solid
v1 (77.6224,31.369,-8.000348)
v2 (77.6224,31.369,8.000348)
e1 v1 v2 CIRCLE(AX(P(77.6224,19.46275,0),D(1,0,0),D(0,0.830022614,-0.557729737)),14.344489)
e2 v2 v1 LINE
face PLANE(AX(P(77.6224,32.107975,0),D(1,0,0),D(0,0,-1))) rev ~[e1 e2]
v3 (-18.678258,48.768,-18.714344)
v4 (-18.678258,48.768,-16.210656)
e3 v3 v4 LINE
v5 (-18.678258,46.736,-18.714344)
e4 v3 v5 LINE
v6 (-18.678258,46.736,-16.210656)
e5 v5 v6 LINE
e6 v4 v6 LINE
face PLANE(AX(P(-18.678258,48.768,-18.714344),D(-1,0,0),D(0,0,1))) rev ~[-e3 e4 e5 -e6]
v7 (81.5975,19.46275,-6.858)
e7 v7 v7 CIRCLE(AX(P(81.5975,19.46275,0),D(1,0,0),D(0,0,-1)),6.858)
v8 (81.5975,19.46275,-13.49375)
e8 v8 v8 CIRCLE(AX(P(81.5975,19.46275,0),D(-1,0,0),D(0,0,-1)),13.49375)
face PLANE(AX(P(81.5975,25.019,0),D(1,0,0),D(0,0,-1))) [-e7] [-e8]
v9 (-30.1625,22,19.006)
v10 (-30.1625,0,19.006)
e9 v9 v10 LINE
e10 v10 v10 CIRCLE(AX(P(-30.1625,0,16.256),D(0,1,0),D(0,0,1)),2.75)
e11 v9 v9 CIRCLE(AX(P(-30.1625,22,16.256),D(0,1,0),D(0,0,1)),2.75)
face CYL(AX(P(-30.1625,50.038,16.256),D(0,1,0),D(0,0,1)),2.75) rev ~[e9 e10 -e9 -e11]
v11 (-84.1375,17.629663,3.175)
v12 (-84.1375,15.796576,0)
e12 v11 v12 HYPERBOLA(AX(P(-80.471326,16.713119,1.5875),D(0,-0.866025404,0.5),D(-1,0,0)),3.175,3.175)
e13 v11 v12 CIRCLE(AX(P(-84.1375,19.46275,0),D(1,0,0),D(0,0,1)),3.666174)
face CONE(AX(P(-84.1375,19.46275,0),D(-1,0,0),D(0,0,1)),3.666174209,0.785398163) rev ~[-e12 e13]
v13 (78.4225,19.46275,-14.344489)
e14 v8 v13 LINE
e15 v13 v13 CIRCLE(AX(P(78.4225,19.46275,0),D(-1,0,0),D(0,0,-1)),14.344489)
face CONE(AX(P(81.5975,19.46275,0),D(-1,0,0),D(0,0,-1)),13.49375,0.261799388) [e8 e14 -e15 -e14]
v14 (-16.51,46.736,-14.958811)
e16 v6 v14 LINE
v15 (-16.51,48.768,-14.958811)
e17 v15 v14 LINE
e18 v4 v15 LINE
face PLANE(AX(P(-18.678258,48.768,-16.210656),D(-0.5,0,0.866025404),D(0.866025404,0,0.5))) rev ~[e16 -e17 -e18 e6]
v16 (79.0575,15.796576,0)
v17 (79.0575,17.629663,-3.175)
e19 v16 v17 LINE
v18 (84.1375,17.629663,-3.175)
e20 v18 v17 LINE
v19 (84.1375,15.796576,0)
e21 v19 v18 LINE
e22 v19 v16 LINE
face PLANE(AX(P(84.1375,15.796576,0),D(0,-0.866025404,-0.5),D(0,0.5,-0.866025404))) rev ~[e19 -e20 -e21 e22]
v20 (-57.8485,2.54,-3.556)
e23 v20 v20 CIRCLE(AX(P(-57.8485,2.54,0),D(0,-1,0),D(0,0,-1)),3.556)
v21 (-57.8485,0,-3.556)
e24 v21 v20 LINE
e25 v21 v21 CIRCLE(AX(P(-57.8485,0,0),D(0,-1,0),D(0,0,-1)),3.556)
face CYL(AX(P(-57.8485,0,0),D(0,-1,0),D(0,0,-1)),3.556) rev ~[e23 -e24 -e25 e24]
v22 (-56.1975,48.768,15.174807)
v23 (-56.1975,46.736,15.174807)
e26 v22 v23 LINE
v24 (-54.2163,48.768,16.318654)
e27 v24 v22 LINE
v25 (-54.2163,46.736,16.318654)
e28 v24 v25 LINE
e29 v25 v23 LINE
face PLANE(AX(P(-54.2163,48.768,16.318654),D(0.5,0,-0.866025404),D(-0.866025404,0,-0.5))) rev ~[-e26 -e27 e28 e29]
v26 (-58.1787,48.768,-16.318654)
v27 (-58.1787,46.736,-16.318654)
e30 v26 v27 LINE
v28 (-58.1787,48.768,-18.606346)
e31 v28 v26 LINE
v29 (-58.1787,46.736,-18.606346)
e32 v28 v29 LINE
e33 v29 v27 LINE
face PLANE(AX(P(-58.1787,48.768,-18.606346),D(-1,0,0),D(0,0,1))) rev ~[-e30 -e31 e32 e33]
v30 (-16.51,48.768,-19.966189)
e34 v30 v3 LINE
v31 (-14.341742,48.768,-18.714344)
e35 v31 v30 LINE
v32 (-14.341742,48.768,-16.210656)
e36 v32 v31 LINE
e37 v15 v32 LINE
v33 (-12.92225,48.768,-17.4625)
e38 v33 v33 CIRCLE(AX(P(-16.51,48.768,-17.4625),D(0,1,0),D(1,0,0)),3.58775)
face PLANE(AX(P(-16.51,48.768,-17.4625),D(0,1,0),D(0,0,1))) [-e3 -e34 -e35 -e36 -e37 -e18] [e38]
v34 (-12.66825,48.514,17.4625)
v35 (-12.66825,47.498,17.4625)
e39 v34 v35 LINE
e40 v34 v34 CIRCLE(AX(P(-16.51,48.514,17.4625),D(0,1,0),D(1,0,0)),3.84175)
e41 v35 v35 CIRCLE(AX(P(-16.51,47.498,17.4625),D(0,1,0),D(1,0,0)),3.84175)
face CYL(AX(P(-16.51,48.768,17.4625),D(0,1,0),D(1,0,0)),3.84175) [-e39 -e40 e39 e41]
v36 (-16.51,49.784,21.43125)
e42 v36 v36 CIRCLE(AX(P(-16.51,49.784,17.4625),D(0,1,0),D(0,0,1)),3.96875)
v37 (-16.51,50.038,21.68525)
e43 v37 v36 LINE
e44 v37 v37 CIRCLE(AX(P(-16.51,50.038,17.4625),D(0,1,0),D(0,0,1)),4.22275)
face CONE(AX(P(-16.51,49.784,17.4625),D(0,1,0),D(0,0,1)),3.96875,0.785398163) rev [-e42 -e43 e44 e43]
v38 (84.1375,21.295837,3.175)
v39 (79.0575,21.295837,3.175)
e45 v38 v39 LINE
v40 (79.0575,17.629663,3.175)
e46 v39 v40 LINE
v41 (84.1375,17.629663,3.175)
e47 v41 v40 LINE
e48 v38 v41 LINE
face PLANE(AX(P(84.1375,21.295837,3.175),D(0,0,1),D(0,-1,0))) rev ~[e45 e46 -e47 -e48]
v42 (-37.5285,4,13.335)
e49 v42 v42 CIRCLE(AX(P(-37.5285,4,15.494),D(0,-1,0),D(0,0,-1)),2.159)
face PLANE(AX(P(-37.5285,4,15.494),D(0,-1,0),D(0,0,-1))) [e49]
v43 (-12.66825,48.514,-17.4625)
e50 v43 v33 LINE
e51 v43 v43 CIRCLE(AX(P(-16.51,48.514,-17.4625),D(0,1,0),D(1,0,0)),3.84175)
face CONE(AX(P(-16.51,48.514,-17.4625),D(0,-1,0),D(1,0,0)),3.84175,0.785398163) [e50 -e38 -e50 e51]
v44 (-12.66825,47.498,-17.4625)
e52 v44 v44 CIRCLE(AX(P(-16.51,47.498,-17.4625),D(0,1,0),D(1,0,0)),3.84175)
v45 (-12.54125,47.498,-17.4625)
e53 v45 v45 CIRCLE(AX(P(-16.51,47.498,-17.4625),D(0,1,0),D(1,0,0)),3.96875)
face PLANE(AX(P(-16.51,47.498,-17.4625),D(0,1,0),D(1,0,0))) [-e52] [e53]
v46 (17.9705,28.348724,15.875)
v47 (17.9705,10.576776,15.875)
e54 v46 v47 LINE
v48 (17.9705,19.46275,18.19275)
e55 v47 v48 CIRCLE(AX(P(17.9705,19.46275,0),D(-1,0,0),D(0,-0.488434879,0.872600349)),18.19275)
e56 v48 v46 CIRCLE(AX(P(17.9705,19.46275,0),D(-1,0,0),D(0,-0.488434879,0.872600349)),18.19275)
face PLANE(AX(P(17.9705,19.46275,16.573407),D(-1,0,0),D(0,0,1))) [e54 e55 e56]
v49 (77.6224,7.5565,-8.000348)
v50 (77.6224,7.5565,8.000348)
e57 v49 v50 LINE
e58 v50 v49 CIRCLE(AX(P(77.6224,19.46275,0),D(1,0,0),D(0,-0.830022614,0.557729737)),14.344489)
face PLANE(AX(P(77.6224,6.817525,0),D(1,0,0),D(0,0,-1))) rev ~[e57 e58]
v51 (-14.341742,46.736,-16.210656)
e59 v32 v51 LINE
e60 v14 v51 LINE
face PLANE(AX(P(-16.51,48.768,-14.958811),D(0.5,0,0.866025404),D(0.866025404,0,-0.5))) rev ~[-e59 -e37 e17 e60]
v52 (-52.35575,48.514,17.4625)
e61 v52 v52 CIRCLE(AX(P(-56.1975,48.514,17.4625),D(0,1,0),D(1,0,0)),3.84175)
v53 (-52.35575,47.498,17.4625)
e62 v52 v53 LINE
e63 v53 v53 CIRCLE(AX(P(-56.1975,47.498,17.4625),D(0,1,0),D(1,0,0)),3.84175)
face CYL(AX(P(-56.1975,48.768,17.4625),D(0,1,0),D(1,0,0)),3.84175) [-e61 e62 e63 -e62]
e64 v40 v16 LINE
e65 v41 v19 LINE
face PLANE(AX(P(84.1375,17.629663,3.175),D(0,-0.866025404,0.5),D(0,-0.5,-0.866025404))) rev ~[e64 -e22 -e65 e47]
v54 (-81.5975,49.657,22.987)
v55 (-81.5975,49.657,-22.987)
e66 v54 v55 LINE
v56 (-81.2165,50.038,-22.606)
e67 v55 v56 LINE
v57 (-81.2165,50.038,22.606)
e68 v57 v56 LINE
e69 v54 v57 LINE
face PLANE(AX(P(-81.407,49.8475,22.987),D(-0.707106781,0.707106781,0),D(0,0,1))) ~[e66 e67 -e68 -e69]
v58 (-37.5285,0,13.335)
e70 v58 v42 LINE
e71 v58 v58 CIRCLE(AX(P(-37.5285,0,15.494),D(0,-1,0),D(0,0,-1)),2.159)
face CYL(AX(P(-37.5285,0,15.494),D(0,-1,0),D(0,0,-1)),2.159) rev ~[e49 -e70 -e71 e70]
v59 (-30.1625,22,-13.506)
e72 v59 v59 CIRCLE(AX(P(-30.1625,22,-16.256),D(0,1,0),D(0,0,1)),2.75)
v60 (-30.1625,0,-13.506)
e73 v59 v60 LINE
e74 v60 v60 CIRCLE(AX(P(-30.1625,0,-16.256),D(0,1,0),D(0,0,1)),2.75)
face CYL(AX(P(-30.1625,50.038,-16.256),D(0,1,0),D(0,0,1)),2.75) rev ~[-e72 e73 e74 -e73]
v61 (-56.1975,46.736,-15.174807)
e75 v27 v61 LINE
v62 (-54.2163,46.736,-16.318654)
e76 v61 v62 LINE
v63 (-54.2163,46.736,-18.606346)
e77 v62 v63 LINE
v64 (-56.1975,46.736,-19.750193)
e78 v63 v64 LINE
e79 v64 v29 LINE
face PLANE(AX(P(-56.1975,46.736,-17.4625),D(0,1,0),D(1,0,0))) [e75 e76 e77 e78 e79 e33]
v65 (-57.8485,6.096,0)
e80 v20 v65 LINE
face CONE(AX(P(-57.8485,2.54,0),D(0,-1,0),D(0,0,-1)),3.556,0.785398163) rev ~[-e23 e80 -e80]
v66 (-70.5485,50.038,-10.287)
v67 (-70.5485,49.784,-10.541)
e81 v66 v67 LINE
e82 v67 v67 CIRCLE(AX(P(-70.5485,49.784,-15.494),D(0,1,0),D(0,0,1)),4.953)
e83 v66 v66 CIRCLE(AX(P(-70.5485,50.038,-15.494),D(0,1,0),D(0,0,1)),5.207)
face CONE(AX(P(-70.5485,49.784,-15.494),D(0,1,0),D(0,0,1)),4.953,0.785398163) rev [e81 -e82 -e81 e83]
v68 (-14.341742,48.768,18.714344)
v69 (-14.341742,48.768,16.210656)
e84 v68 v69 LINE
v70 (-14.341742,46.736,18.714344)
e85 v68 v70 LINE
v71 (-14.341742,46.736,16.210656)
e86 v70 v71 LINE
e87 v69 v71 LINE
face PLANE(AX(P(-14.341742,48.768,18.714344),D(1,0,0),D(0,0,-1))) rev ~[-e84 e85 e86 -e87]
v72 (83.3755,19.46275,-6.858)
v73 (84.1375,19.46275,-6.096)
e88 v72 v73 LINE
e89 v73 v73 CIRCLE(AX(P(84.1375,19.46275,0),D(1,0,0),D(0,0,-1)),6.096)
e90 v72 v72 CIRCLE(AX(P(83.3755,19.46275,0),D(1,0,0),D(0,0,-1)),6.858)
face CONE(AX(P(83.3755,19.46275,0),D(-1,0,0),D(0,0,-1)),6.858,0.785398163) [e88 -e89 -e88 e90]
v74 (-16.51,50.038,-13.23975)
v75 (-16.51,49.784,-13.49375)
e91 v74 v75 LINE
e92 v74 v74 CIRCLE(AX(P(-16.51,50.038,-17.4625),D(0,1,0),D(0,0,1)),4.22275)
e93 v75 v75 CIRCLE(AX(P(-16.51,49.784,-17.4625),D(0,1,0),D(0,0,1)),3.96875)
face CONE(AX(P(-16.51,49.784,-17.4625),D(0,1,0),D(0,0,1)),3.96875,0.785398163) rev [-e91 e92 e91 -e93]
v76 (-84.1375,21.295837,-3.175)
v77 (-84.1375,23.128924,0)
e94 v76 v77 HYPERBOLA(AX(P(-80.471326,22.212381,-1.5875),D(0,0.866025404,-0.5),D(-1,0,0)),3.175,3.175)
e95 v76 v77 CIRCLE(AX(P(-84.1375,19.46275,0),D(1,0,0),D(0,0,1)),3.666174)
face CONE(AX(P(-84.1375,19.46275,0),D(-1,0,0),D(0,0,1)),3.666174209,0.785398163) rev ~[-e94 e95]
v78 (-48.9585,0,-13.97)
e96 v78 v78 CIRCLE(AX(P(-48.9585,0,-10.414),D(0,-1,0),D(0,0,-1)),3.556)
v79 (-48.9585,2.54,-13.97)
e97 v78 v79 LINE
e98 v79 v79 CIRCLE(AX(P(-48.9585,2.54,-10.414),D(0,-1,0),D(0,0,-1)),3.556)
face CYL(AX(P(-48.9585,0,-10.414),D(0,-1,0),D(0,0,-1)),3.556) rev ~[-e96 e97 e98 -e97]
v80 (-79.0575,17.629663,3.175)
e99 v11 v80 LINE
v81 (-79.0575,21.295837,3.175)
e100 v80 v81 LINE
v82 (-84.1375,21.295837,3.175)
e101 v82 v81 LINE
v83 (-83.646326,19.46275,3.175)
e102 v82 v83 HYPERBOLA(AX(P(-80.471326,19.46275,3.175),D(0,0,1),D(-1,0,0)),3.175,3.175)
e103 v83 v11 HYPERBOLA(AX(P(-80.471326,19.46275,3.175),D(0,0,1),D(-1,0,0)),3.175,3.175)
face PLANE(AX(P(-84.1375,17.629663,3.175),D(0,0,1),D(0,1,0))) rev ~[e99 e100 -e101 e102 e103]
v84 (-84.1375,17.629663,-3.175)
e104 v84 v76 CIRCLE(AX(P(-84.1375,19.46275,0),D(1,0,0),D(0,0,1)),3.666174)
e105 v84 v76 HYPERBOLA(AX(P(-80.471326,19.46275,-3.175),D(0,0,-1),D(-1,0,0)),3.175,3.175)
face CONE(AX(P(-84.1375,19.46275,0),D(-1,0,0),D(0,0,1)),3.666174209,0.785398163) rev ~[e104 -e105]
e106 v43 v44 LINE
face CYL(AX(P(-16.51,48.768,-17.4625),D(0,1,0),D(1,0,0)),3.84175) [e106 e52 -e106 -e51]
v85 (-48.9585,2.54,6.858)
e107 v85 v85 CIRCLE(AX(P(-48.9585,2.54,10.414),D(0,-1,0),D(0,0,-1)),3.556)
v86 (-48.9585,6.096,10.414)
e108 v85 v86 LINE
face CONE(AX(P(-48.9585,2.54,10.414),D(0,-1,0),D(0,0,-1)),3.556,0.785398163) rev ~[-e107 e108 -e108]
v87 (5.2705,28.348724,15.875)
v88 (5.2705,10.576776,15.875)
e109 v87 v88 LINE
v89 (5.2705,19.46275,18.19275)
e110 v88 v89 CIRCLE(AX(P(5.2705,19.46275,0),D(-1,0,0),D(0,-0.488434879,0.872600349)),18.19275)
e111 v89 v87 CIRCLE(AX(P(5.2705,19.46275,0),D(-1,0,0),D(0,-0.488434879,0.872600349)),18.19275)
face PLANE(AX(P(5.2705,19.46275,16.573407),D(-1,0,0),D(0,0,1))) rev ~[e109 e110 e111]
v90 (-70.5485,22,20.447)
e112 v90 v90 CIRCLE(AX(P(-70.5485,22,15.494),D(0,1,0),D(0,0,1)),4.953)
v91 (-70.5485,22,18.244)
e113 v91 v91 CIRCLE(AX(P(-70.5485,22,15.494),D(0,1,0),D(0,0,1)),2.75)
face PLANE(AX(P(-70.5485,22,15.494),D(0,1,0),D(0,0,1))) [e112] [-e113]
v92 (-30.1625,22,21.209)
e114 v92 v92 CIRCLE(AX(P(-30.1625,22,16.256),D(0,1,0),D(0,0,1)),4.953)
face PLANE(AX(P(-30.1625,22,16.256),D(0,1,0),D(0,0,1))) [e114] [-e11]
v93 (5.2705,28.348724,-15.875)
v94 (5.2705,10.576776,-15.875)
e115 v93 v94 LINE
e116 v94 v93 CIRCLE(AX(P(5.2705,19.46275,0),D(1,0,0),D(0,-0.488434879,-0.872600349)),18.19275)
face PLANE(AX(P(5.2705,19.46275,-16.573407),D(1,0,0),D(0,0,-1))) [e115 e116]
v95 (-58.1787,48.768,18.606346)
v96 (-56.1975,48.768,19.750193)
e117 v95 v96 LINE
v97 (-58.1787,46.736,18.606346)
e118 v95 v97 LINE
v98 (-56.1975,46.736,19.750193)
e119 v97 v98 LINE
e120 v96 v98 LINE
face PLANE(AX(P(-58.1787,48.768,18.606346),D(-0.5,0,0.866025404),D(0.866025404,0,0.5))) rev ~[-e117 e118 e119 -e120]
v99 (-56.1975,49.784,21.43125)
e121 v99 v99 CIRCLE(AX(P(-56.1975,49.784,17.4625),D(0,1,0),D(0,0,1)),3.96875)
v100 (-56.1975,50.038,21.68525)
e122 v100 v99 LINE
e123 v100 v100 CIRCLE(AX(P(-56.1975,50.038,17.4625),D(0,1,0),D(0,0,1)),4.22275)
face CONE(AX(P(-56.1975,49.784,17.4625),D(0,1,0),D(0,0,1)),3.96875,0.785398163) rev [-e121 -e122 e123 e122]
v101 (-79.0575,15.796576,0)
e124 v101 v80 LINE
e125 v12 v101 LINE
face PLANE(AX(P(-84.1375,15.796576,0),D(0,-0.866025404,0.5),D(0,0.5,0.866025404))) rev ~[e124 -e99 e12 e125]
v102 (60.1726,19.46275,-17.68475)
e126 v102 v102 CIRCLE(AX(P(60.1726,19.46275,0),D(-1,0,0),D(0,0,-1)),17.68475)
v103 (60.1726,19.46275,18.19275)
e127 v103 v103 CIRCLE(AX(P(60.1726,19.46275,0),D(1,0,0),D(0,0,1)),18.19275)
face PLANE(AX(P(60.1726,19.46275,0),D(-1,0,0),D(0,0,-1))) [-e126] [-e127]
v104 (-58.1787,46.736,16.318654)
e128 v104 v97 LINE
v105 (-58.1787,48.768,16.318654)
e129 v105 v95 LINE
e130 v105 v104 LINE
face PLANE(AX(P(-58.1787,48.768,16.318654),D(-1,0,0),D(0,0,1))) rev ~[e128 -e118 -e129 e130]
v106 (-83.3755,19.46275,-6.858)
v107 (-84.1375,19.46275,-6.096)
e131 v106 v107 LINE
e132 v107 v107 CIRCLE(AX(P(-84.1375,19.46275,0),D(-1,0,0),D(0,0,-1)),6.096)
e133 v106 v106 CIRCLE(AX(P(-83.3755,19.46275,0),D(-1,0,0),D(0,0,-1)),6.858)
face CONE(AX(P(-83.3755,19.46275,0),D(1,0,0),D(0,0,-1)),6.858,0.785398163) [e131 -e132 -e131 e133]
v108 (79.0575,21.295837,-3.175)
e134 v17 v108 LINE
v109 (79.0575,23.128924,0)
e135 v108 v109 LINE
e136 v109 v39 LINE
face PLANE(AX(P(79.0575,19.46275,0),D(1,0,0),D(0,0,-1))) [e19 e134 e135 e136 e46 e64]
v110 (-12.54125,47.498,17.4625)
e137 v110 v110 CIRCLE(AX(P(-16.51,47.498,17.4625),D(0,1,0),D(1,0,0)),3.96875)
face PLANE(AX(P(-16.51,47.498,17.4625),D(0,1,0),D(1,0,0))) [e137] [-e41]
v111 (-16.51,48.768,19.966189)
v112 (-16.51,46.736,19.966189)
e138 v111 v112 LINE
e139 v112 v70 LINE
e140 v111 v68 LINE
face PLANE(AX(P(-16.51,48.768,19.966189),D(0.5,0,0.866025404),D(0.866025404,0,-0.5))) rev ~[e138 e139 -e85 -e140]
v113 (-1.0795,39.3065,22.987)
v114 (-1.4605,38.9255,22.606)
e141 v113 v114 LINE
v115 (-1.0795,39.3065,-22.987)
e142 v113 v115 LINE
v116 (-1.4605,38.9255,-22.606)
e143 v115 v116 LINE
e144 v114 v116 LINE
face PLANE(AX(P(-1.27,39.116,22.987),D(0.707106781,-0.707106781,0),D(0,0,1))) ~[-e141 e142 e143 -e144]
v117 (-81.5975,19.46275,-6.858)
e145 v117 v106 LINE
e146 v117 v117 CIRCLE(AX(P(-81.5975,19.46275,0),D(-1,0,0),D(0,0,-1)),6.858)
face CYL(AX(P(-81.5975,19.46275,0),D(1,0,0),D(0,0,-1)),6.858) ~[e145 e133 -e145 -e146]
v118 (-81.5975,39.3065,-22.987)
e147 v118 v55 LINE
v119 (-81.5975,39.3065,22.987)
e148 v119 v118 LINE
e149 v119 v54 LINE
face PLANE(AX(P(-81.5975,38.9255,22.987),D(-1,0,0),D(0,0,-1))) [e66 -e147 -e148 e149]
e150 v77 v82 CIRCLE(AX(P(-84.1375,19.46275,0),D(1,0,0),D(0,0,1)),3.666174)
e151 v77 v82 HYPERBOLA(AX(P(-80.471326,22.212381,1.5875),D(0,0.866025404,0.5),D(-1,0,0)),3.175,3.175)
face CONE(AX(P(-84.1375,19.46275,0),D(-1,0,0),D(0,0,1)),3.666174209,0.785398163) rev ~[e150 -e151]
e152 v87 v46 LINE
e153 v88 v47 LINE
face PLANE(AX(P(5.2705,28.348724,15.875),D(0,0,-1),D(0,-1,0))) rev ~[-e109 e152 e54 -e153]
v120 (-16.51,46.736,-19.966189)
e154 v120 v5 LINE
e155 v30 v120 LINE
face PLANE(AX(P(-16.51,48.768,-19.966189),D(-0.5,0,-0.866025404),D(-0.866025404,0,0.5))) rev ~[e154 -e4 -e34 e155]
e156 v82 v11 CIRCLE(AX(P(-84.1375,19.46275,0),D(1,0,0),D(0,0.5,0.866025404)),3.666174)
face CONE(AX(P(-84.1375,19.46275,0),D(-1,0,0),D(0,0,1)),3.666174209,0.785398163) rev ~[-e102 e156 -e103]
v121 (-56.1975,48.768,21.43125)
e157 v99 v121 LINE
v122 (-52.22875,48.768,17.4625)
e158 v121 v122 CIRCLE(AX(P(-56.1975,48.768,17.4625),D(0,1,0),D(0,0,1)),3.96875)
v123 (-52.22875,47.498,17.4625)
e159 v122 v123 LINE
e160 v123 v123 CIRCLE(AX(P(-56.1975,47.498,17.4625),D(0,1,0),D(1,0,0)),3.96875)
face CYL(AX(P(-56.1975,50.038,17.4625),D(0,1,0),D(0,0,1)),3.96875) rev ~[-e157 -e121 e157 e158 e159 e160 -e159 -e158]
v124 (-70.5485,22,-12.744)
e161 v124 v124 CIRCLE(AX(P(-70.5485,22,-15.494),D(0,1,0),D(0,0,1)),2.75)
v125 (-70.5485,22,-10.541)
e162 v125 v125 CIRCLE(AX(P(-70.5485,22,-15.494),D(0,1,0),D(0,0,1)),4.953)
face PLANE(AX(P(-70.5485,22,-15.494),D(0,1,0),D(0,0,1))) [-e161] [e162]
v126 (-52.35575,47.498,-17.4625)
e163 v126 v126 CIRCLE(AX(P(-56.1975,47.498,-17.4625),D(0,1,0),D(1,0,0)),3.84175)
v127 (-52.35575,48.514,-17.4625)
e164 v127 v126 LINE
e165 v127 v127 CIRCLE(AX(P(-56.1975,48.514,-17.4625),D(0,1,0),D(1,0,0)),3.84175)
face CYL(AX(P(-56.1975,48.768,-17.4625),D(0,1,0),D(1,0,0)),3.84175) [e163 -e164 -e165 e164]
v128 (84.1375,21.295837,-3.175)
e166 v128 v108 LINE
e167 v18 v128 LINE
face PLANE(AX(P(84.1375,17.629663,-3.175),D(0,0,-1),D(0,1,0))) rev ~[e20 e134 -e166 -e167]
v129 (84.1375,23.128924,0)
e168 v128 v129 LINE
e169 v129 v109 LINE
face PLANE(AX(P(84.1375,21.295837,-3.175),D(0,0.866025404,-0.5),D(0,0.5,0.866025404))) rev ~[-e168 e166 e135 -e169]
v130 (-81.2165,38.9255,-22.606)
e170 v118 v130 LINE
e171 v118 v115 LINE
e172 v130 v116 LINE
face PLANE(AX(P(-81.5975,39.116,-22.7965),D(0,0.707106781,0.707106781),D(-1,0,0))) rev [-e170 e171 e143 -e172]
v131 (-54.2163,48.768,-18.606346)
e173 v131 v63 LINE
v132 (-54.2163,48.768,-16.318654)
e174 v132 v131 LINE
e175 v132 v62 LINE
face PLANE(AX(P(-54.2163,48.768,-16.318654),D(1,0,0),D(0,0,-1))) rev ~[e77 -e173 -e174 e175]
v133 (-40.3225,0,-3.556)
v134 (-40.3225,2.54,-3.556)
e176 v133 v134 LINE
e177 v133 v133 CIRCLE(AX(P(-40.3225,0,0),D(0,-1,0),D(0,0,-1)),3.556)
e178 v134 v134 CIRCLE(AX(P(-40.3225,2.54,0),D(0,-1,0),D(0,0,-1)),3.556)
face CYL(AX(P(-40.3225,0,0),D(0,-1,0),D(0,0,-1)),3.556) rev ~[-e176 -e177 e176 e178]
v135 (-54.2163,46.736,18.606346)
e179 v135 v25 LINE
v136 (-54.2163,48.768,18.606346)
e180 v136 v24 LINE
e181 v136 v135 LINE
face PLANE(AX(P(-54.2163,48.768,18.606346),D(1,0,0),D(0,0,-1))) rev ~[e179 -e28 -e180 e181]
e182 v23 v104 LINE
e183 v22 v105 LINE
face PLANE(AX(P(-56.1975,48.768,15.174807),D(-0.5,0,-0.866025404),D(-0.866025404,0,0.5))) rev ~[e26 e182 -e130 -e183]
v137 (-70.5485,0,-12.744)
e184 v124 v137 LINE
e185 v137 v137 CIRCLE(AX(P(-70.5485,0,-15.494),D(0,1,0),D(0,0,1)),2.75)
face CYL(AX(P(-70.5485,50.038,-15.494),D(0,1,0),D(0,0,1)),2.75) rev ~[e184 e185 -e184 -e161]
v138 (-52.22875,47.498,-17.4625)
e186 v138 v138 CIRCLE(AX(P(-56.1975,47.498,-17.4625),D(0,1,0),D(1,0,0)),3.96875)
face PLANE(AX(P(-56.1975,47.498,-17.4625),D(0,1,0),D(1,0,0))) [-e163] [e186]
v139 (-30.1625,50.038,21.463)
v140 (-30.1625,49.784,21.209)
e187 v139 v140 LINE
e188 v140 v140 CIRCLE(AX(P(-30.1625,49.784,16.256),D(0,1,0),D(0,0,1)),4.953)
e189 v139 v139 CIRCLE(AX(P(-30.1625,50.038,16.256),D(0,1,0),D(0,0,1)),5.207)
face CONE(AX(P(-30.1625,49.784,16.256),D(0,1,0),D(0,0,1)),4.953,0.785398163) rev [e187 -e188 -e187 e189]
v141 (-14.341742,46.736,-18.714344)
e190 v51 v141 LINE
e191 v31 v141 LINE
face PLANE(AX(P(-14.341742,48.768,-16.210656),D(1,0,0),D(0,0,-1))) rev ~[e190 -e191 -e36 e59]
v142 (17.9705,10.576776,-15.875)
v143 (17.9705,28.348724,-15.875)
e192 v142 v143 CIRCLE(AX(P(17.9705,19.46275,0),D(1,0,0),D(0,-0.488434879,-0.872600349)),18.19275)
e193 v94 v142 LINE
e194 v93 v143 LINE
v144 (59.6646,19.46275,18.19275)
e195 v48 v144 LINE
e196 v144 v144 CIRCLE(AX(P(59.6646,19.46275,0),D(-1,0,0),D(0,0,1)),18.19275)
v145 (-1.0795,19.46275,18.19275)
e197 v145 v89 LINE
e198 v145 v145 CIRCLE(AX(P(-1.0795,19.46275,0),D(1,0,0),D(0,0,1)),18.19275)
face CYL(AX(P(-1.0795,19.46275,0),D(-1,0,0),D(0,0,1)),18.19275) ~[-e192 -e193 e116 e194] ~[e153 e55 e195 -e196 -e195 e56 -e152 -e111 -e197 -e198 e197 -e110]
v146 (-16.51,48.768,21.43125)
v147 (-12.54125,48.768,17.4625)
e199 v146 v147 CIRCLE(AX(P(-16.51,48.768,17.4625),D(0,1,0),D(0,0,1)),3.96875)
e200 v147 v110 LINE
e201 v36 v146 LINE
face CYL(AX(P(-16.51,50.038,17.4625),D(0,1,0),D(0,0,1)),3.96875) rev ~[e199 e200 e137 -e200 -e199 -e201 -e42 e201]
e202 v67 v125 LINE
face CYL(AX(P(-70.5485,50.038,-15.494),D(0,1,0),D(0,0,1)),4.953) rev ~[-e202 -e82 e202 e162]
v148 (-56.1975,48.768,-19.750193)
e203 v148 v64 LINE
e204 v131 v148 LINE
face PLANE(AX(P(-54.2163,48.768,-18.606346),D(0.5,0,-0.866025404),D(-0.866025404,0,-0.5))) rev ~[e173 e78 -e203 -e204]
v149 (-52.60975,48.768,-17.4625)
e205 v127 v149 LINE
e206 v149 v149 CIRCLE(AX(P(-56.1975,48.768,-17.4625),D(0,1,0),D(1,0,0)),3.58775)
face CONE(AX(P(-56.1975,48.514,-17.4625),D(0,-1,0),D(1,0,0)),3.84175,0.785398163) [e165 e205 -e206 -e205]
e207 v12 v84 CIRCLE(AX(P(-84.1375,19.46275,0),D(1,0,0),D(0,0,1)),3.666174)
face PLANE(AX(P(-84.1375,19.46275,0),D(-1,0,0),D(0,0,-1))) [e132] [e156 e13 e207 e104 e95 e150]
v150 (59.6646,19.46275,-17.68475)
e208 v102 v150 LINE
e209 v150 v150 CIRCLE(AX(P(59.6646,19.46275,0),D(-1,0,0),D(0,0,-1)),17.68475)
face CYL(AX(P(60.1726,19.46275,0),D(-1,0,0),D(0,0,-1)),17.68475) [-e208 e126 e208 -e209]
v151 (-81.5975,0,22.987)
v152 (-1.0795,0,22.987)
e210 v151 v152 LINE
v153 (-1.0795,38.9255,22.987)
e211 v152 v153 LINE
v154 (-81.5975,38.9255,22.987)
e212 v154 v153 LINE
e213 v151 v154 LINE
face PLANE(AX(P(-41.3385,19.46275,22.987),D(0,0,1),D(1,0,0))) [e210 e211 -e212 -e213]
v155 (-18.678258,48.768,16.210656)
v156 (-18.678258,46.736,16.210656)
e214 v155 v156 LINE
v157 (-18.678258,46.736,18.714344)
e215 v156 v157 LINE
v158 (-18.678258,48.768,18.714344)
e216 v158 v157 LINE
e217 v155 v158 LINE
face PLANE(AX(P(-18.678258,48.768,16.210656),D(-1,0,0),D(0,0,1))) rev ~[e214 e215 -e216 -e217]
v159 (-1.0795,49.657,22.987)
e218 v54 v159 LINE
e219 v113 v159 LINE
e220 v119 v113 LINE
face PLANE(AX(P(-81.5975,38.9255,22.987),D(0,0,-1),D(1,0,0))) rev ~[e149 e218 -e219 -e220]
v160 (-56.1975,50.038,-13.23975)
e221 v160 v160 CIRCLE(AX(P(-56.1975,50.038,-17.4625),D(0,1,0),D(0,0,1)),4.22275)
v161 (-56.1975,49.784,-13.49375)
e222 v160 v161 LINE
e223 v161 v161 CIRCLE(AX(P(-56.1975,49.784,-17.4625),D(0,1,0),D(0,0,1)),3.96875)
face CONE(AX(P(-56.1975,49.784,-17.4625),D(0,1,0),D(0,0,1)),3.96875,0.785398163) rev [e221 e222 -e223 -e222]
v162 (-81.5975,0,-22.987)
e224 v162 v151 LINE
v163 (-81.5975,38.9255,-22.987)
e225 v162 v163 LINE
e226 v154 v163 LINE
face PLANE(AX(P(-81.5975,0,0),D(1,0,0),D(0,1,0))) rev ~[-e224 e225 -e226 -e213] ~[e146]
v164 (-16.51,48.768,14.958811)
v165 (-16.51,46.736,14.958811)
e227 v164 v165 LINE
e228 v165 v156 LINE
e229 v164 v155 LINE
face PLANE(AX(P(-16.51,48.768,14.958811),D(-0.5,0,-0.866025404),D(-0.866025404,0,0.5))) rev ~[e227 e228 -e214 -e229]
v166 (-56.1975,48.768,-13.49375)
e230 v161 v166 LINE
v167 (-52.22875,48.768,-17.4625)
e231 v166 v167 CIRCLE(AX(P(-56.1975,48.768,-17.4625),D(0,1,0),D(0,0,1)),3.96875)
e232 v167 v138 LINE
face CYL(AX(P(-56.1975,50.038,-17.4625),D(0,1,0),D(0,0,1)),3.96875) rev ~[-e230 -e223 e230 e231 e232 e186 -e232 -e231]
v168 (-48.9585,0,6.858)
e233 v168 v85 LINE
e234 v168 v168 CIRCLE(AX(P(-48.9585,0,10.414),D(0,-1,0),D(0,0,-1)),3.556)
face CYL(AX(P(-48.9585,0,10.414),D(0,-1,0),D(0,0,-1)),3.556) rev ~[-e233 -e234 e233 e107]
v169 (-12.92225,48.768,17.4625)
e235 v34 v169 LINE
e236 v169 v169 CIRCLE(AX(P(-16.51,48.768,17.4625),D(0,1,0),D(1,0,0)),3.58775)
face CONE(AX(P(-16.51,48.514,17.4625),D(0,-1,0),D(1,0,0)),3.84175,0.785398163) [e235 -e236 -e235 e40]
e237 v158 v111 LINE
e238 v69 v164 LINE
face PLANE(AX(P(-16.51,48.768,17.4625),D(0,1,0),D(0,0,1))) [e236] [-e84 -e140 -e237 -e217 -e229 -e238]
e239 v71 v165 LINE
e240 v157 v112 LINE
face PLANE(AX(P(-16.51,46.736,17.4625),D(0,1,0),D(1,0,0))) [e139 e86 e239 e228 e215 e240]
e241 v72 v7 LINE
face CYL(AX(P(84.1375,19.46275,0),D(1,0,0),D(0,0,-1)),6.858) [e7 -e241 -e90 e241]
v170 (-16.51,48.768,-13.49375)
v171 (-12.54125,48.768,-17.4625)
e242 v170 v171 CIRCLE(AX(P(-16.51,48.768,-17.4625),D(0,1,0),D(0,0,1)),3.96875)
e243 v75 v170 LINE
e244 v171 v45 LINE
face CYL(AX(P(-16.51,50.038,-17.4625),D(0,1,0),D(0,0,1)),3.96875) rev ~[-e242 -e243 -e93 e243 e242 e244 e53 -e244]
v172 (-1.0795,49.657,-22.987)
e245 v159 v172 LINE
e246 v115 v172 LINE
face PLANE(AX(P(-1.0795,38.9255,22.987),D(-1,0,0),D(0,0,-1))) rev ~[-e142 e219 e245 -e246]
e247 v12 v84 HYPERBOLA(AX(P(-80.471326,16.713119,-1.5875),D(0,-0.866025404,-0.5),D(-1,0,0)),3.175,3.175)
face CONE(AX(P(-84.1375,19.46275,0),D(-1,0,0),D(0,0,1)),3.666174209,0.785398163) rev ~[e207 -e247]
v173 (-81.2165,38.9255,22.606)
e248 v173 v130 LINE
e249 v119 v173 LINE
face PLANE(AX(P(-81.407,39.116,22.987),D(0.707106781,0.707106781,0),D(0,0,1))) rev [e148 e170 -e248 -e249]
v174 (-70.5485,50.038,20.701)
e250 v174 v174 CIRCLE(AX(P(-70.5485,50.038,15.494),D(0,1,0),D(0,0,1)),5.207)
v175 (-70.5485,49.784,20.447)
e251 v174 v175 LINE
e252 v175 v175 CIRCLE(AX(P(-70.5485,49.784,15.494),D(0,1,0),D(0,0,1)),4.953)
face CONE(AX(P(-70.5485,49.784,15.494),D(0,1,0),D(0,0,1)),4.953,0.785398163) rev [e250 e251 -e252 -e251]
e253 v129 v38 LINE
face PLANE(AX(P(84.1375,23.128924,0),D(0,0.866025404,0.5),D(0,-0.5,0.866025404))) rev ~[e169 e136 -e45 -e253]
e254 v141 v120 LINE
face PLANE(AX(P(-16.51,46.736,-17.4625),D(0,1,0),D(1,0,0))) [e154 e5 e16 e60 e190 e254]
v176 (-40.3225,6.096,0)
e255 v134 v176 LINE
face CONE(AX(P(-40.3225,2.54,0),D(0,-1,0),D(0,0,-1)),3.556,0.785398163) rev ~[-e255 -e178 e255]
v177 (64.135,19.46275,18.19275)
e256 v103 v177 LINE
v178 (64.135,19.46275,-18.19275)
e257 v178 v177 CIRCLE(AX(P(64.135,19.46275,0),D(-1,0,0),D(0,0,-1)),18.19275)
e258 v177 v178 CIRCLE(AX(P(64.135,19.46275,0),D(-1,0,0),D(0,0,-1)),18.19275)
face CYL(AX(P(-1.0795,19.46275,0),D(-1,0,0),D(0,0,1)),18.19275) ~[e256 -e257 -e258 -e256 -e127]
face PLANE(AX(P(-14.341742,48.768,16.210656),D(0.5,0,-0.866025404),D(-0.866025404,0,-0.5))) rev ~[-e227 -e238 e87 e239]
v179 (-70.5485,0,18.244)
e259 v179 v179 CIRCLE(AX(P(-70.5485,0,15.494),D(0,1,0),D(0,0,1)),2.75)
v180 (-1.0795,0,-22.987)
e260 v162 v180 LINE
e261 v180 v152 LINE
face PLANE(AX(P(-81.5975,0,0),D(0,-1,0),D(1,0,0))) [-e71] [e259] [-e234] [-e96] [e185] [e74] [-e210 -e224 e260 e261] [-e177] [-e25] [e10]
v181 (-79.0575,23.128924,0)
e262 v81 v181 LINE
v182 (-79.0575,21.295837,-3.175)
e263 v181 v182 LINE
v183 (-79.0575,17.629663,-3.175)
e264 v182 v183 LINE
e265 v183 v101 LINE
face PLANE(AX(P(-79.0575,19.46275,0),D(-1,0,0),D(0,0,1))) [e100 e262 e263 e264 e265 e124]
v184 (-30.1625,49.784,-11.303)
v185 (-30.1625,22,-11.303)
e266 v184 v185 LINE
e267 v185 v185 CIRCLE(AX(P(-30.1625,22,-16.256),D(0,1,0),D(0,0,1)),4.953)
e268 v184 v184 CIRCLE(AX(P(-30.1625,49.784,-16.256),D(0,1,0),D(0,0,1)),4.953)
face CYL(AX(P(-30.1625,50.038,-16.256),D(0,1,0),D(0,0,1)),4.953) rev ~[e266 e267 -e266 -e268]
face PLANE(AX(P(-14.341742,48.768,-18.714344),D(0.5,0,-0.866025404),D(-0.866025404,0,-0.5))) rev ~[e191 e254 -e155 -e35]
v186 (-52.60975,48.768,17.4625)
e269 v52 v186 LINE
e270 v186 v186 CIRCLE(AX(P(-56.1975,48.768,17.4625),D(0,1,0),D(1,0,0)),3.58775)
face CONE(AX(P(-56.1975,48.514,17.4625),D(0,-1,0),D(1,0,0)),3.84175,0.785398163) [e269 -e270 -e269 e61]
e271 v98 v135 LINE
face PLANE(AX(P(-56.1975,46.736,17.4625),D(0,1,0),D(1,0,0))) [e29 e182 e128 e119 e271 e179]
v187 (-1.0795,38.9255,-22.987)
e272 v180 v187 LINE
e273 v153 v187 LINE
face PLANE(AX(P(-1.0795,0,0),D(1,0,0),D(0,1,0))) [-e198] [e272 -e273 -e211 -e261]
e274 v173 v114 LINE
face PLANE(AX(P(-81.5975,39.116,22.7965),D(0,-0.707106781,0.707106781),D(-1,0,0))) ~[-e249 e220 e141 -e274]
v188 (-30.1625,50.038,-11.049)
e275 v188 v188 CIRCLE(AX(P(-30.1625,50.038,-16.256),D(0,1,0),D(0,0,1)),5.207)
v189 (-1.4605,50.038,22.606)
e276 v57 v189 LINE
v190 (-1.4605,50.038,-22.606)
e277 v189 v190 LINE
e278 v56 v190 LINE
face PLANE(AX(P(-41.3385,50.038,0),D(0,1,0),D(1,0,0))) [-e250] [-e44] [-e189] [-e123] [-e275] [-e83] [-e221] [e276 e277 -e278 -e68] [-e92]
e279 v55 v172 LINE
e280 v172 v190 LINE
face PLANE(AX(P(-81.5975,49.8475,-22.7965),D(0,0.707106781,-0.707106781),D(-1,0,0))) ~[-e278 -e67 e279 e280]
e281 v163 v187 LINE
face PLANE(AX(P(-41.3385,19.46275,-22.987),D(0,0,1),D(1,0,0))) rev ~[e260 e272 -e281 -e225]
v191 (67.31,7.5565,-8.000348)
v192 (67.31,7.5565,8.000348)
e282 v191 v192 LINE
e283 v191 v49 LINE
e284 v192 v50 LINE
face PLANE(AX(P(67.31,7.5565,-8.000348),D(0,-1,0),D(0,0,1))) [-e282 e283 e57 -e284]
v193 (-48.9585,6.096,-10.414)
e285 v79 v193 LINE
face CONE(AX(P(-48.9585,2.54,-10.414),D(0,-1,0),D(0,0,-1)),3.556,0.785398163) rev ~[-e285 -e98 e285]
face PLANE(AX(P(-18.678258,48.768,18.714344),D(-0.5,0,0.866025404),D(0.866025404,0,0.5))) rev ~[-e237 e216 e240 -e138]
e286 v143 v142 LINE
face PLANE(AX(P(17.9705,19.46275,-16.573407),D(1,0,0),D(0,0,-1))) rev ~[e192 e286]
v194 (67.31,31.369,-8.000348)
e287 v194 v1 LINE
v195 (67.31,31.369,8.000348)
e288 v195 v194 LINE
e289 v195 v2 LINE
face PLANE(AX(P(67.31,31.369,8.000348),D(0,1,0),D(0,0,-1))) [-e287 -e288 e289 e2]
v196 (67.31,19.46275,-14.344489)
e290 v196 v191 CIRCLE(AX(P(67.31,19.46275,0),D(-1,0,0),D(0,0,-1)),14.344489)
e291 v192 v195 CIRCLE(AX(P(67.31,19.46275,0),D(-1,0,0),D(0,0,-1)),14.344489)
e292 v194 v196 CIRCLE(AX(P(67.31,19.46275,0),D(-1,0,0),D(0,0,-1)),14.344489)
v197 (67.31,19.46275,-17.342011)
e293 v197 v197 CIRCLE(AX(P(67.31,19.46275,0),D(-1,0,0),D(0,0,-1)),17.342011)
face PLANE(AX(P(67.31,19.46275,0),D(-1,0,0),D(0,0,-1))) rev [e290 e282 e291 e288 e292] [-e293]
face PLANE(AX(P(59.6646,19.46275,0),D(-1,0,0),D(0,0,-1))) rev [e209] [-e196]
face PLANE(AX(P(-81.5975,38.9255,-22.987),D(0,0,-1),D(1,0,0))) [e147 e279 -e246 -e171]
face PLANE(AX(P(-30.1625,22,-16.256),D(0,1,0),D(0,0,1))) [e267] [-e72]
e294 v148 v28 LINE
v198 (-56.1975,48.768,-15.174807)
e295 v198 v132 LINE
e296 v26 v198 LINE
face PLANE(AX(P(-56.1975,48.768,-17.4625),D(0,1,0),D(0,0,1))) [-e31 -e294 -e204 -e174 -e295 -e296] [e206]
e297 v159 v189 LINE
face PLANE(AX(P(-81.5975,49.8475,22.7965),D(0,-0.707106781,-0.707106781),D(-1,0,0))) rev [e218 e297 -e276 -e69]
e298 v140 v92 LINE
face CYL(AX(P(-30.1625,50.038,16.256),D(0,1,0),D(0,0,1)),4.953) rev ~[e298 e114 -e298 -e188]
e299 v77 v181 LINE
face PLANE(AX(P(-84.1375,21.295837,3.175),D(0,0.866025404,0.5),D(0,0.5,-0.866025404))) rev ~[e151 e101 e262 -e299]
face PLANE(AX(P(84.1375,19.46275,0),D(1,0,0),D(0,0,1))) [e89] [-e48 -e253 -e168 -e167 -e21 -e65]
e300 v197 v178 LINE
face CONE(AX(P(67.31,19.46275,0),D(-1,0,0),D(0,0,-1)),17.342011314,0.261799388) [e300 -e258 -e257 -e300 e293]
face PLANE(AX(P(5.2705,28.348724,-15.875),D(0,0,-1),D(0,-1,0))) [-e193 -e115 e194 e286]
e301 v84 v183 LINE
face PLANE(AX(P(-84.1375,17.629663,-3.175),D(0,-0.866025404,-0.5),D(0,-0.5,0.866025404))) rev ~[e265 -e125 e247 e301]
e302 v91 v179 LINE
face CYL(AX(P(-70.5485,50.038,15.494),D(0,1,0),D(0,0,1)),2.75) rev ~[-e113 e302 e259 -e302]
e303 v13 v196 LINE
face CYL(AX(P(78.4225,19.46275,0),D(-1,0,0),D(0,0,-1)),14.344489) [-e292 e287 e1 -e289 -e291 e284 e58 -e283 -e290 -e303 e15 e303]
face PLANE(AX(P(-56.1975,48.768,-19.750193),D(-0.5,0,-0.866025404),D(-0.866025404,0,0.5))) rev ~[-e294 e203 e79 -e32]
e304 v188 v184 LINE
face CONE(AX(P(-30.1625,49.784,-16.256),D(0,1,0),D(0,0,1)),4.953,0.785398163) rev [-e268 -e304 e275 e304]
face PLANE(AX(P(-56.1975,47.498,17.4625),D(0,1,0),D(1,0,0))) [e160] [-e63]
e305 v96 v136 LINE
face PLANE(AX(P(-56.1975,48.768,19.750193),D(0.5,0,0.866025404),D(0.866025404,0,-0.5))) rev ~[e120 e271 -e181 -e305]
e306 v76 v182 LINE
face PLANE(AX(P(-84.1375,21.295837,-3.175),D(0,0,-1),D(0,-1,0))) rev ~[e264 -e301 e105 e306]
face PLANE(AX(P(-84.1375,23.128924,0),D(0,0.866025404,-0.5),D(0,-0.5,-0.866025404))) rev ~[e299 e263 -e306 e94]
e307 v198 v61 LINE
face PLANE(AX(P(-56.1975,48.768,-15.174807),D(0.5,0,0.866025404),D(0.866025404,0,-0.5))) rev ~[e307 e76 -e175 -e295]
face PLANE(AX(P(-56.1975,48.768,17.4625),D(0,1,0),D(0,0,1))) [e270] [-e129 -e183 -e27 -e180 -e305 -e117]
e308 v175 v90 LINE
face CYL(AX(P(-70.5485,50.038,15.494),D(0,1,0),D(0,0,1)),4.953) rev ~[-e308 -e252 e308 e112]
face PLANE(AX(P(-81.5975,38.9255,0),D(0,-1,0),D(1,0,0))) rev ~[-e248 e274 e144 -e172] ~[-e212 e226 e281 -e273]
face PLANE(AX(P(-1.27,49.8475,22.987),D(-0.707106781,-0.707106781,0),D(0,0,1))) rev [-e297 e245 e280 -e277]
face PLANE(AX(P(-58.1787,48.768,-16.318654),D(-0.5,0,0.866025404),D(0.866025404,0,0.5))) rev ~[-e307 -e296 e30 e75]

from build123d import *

# Parameters (mm, degrees)
SKETCH2_W               = 80.518
SKETCH2_H               = 38.9255
BOSS_EXTRUDE1_DEPTH     = 22.987
SKETCH3_W               = 80.518
SKETCH3_H               = 45.974
BOSS_EXTRUDE2_DEPTH     = 11.1125
CHAMFER1_SIZE           = 0.381
SKETCH4_R               = 4.953
CUT_EXTRUDE1_DEPTH      = 28.038
SKETCH5_R               = 3.96875
CUT_EXTRUDE2_DEPTH      = 1.27
CHAMFER2_SIZE           = 0.254
SKETCH6_R               = 3.96875
SKETCH6_R_2             = 3.84175
CUT_EXTRUDE_THIN1_DEPTH = 1.27
CHAMFER3_SIZE           = 0.254
CUT_EXTRUDE3_DEPTH      = 2.032
SKETCH8_R               = 2.75
CUT_EXTRUDE4_DEPTH      = 99.439603917
SKETCH9_R               = 3.556
CUT_EXTRUDE5_DEPTH      = 2.54
SKETCH10_R              = 2.159
CUT_EXTRUDE6_DEPTH      = 4
SKETCH17_R              = 18.19275
BOSS_EXTRUDE4_DEPTH     = 85.217
SKETCH13_R              = 6.858
BOSS_EXTRUDE3_DEPTH     = 2.54
CHAMFER4_SIZE           = 0.762
CUT_EXTRUDE8_DEPTH      = 5.08
SKETCH18_OUTSIDE_W      = 84.27
SKETCH18_OUTSIDE_H      = 88.334
SKETCH18_OUTSIDE_R      = 6.858
CUT_EXTRUDE10_DEPTH     = 2.54
CUT_EXTRUDE11_DEPTH     = 5.08
CHAMFER5_SIZE           = 0.762
CUT_EXTRUDE12_DEPTH     = 10.3124
CUT_EXTRUDE13_START     = 6.35
CUT_EXTRUDE13_DEPTH     = 12.7


with BuildPart() as part:
    # Sketch2 → Boss-Extrude1 (new, symmetric)
    with BuildSketch(Plane.XY):
        with Locations((-41.3385, 19.46275)):
            Rectangle(SKETCH2_W, SKETCH2_H)
    extrude(amount=BOSS_EXTRUDE1_DEPTH, both=True)


with BuildPart() as body_2:
    # Sketch3 → Boss-Extrude2 (new body)
    with BuildSketch(Plane(origin=(0, 38.9255, 0), x_dir=(1, 0, 0), z_dir=(0, 1, 0))):
        with Locations((-41.3385, 0)):
            Rectangle(SKETCH3_W, SKETCH3_H)
    extrude(amount=BOSS_EXTRUDE2_DEPTH)

    # Chamfer1
    chamfer1_edges = [body_2.edges().sort_by_distance(p)[0] for p in [
        (-81.5975, 50.038, 0),
        (-41.3385, 50.038, 22.987),
        (-1.0795, 50.038, 0),
        (-41.3385, 38.9255, 22.987),
        (-81.5975, 38.9255, 0),
        (-41.3385, 38.9255, -22.987),
        (-1.0795, 38.9255, 0),
        (-41.3385, 50.038, -22.987),
    ]]
    chamfer(chamfer1_edges, length=CHAMFER1_SIZE)


with BuildPart() as part_1:
    add(part.part)

    # Combine1: union body 2
    add(body_2.part)

    # Sketch4 → Cut-Extrude1 (cut)
    with BuildSketch(Plane(origin=(0, 50.038, 0), x_dir=(1, 0, 0), z_dir=(0, 1, 0))):
        with Locations(Location((-70.5485, 15.494, 0), (0, 0, 270))):
            Circle(SKETCH4_R)
        with Locations(Location((-30.1625, 16.256, 0), (0, 0, 270))):
            Circle(SKETCH4_R)
        with Locations(Location((-70.5485, -15.494, 0), (0, 0, 270))):
            Circle(SKETCH4_R)
        with Locations(Location((-30.1625, -16.256, 0), (0, 0, 270))):
            Circle(SKETCH4_R)
    extrude(amount=-CUT_EXTRUDE1_DEPTH, mode=Mode.SUBTRACT)

    # Sketch5 → Cut-Extrude2 (cut)
    with BuildSketch(Plane(origin=(0, 50.038, 0), x_dir=(1, 0, 0), z_dir=(0, 1, 0))):
        with Locations(Location((-56.1975, 17.4625, 0), (0, 0, 270))):
            Circle(SKETCH5_R)
        with Locations(Location((-16.51, 17.4625, 0), (0, 0, 270))):
            Circle(SKETCH5_R)
        with Locations(Location((-56.1975, -17.4625, 0), (0, 0, 270))):
            Circle(SKETCH5_R)
        with Locations(Location((-16.51, -17.4625, 0), (0, 0, 270))):
            Circle(SKETCH5_R)
    extrude(amount=-CUT_EXTRUDE2_DEPTH, mode=Mode.SUBTRACT)

    # Chamfer2
    chamfer2_edges = [part_1.edges().sort_by_distance(p)[0] for p in [
        (-70.5485, 50.038, -20.447),
        (-30.1625, 50.038, -21.209),
        (-70.5485, 50.038, 10.541),
        (-30.1625, 50.038, 11.303),
        (-56.1975, 50.038, -21.43125),
        (-16.51, 50.038, -21.43125),
        (-56.1975, 50.038, 13.49375),
        (-16.51, 50.038, 13.49375),
    ]]
    chamfer(chamfer2_edges, length=CHAMFER2_SIZE)

    # Sketch6 → Cut-Extrude-Thin1 (cut)
    # profile 1 of 4: a face of its own
    with BuildSketch(Plane(origin=(0, 48.768, 0), x_dir=(1, 0, 0), z_dir=(0, 1, 0))):
        with Locations((-56.1975, 17.4625)):
            Circle(SKETCH6_R)
        with Locations((-56.1975, 17.4625)):
            Circle(SKETCH6_R_2, mode=Mode.SUBTRACT)
    # profile 2 of 4: a face of its own
    with BuildSketch(Plane(origin=(0, 48.768, 0), x_dir=(1, 0, 0), z_dir=(0, 1, 0))):
        with Locations((-16.51, 17.4625)):
            Circle(SKETCH6_R)
        with Locations((-16.51, 17.4625)):
            Circle(SKETCH6_R_2, mode=Mode.SUBTRACT)
    # profile 3 of 4: a face of its own
    with BuildSketch(Plane(origin=(0, 48.768, 0), x_dir=(1, 0, 0), z_dir=(0, 1, 0))):
        with Locations((-16.51, -17.4625)):
            Circle(SKETCH6_R)
        with Locations((-16.51, -17.4625)):
            Circle(SKETCH6_R_2, mode=Mode.SUBTRACT)
    # profile 4 of 4: a face of its own
    with BuildSketch(Plane(origin=(0, 48.768, 0), x_dir=(1, 0, 0), z_dir=(0, 1, 0))):
        with Locations((-56.1975, -17.4625)):
            Circle(SKETCH6_R)
        with Locations((-56.1975, -17.4625)):
            Circle(SKETCH6_R_2, mode=Mode.SUBTRACT)
    extrude(amount=-CUT_EXTRUDE_THIN1_DEPTH, mode=Mode.SUBTRACT)

    # Chamfer3
    chamfer3_edges = [part_1.edges().sort_by_distance(p)[0] for p in [
        (-20.35175, 48.768, -17.4625),
        (-20.35175, 48.768, 17.4625),
        (-60.03925, 48.768, 17.4625),
        (-60.03925, 48.768, -17.4625),
    ]]
    chamfer(chamfer3_edges, length=CHAMFER3_SIZE)

    # Sketch7 → Cut-Extrude3 (cut)
    with BuildSketch(Plane(origin=(0, 48.768, 0), x_dir=(1, 0, 0), z_dir=(0, 1, 0))):
        Polygon((-56.1975, 19.750192707), (-58.1787, 18.606346353), (-58.1787, 16.318653647), (-56.1975, 15.174807293), (-54.2163, 16.318653647), (-54.2163, 18.606346353), align=None)
        Polygon((-56.1975, -15.174807293), (-58.1787, -16.318653647), (-58.1787, -18.606346353), (-56.1975, -19.750192707), (-54.2163, -18.606346353), (-54.2163, -16.318653647), align=None)
        Polygon((-16.51, -14.958811275), (-18.678258039, -16.210655638), (-18.678258039, -18.714344362), (-16.51, -19.966188725), (-14.341741961, -18.714344362), (-14.341741961, -16.210655638), align=None)
        Polygon((-16.51, 19.966188725), (-18.678258039, 18.714344362), (-18.678258039, 16.210655638), (-16.51, 14.958811275), (-14.341741961, 16.210655638), (-14.341741961, 18.714344362), align=None)
    extrude(amount=-CUT_EXTRUDE3_DEPTH, mode=Mode.SUBTRACT)

    # Sketch8 → Cut-Extrude4 (cut, through all)
    with BuildSketch(Plane(origin=(0, 50.038, 0), x_dir=(1, 0, 0), z_dir=(0, 1, 0))):
        with Locations(Location((-70.5485, 15.494, 0), (0, 0, 270))):
            Circle(SKETCH8_R)
        with Locations(Location((-30.1625, 16.256, 0), (0, 0, 270))):
            Circle(SKETCH8_R)
        with Locations(Location((-30.1625, -16.256, 0), (0, 0, 270))):
            Circle(SKETCH8_R)
        with Locations(Location((-70.5485, -15.494, 0), (0, 0, 270))):
            Circle(SKETCH8_R)
    extrude(amount=-CUT_EXTRUDE4_DEPTH, mode=Mode.SUBTRACT)

    # Sketch9 → Cut-Extrude5 (cut)
    with BuildSketch(Plane.XZ):
        with Locations(Location((-48.9585, 10.414, 0), (0, 0, 270))):
            Circle(SKETCH9_R)
        with Locations(Location((-48.9585, -10.414, 0), (0, 0, 270))):
            Circle(SKETCH9_R)
        with Locations(Location((-57.8485, 0, 0), (0, 0, 270))):
            Circle(SKETCH9_R)
        with Locations(Location((-40.3225, 0, 0), (0, 0, 270))):
            Circle(SKETCH9_R)
    extrude(amount=-CUT_EXTRUDE5_DEPTH, mode=Mode.SUBTRACT)

    # Sketch10 → Cut-Extrude6 (cut)
    with BuildSketch(Plane.XZ):
        with Locations(Location((-37.5285, 15.494, 0), (0, 0, 270))):
            Circle(SKETCH10_R)
    extrude(amount=-CUT_EXTRUDE6_DEPTH, mode=Mode.SUBTRACT)

    # Cut-Extrude7 cone 1 section (through the dimple's axis) → Cut-Extrude7 (revolve, cut)
    with BuildSketch(Plane(origin=(-48.9585, 2.54, 10.414), x_dir=(0, 0, -1), z_dir=(1, 0, 0))):
        Polygon((0, 0), (3.556, 0), (0, 3.556), align=None)
    revolve(axis=Axis((-48.9585, 2.54, 10.414), (0, 1, 0)), mode=Mode.SUBTRACT)

    # Cut-Extrude7 cone 2 section (through the dimple's axis) → Cut-Extrude7 cone 2 (revolve, cut)
    with BuildSketch(Plane(origin=(-40.3225, 2.54, 0), x_dir=(0, 0, -1), z_dir=(1, 0, 0))):
        Polygon((0, 0), (3.556, 0), (0, 3.556), align=None)
    revolve(axis=Axis((-40.3225, 2.54, 0), (0, 1, 0)), mode=Mode.SUBTRACT)

    # Cut-Extrude7 cone 3 section (through the dimple's axis) → Cut-Extrude7 cone 3 (revolve, cut)
    with BuildSketch(Plane(origin=(-57.8485, 2.54, 0), x_dir=(0, 0, -1), z_dir=(1, 0, 0))):
        Polygon((0, 0), (3.556, 0), (0, 3.556), align=None)
    revolve(axis=Axis((-57.8485, 2.54, 0), (0, 1, 0)), mode=Mode.SUBTRACT)

    # Cut-Extrude7 cone 4 section (through the dimple's axis) → Cut-Extrude7 cone 4 (revolve, cut)
    with BuildSketch(Plane(origin=(-48.9585, 2.54, -10.414), x_dir=(0, 0, -1), z_dir=(1, 0, 0))):
        Polygon((0, 0), (3.556, 0), (0, 3.556), align=None)
    revolve(axis=Axis((-48.9585, 2.54, -10.414), (0, 1, 0)), mode=Mode.SUBTRACT)

    # Sketch17 → Boss-Extrude4 (add)
    with BuildSketch(Plane(origin=(-1.0795, 0, 0), x_dir=(0, 0, -1), z_dir=(1, 0, 0))):
        with Locations(Location((0, 19.46275, 0), (0, 0, 180))):
            Circle(SKETCH17_R)
    extrude(amount=BOSS_EXTRUDE4_DEPTH)

    # Sketch13 → Boss-Extrude3 (add)
    with BuildSketch(Plane.ZY.offset(81.5975)):
        with Locations(Location((0, 19.46275, 0), (0, 0, 180))):
            Circle(SKETCH13_R)
    extrude(amount=BOSS_EXTRUDE3_DEPTH)

    # Chamfer4
    chamfer4_edges = [part_1.edges().sort_by_distance(p)[0] for p in [
        (-84.1375, 19.46275, 6.858),
    ]]
    chamfer(chamfer4_edges, length=CHAMFER4_SIZE)

    # Sketch14 → Cut-Extrude8 (cut)
    with BuildSketch(Plane.ZY.offset(84.1375)):
        Polygon((0, 23.128924209), (-3.175, 21.295837105), (-3.175, 17.629662895), (0, 15.796575791), (3.175, 17.629662895), (3.175, 21.295837105), align=None)
    extrude(amount=-CUT_EXTRUDE8_DEPTH, mode=Mode.SUBTRACT)

    # Cut-Extrude9 cone 1 section (through the dimple's axis) → Cut-Extrude9 (revolve, cut)
    with BuildSketch(Plane(origin=(-84.1375, 19.46275, 0), x_dir=(0, 0, 1), z_dir=(0, 1, 0))):
        Polygon((0, 0), (3.666174209, 0), (0, 3.666174209), align=None)
    revolve(axis=Axis((-84.1375, 19.46275, 0), (1, 0, 0)), mode=Mode.SUBTRACT)

    # Sketch18 outside → Cut-Extrude10 (cut)
    with BuildSketch(Plane(origin=(84.1375, 0, 0), x_dir=(0, 0, -1), z_dir=(1, 0, 0))):
        with Locations((0, 25.019)):
            Rectangle(SKETCH18_OUTSIDE_W, SKETCH18_OUTSIDE_H)
        with Locations((0, 19.46275)):
            Circle(SKETCH18_OUTSIDE_R, mode=Mode.SUBTRACT)
    extrude(amount=-CUT_EXTRUDE10_DEPTH, mode=Mode.SUBTRACT)

    # Sketch19 → Cut-Extrude11 (cut)
    with BuildSketch(Plane(origin=(84.1375, 0, 0), x_dir=(0, 0, -1), z_dir=(1, 0, 0))):
        Polygon((3.175, 21.295837105), (0, 23.128924209), (-3.175, 21.295837105), (-3.175, 17.629662895), (0, 15.796575791), (3.175, 17.629662895), align=None)
    extrude(amount=-CUT_EXTRUDE11_DEPTH, mode=Mode.SUBTRACT)

    # Chamfer5
    chamfer5_edges = [part_1.edges().sort_by_distance(p)[0] for p in [
        (84.1375, 19.46275, 6.858),
    ]]
    chamfer(chamfer5_edges, length=CHAMFER5_SIZE)

    # Sketch20 → Cut-Revolve1 (revolve, cut)
    with BuildSketch(Plane.XY, mode=Mode.PRIVATE) as cut_revolve1_sk:
        Polygon((81.5975, 32.9565), (78.4225, 33.807238686), (67.31, 33.807238686), (67.31, 36.804761314), (64.135, 37.6555), (60.1726, 37.6555), (60.1726, 37.1475), (59.6646, 37.1475), (59.6646, 40.8305), (81.5975, 40.8305), align=None)
    revolve(cut_revolve1_sk.sketch.rotate(Axis((83.3755, 19.46275, 0), (-1, 0, 0)), 90), axis=Axis((83.3755, 19.46275, 0), (-1, 0, 0)), mode=Mode.SUBTRACT)

    # Sketch21 → Cut-Extrude12 (cut)
    with BuildSketch(Plane(origin=(67.31, 0, 0), x_dir=(0, 0, -1), z_dir=(1, 0, 0))):
        with BuildLine():
            Line((8.000347905, 7.5565), (-8.000347905, 7.5565))
            ThreePointArc((-8.000347905, 7.5565), (0, 5.118261314), (8.000347905, 7.5565))
        make_face()
        with BuildLine():
            Line((-8.000347905, 31.369), (8.000347905, 31.369))
            ThreePointArc((8.000347905, 31.369), (0, 33.807238686), (-8.000347905, 31.369))
        make_face()
    extrude(amount=CUT_EXTRUDE12_DEPTH, mode=Mode.SUBTRACT)

    # Sketch22 → Cut-Extrude13 (cut)
    with BuildSketch(Plane(origin=(-1.0795, 0, 0), x_dir=(0, 0, -1), z_dir=(1, 0, 0)).offset(CUT_EXTRUDE13_START)):
        with BuildLine():
            Line((-15.875, 28.348723642), (-15.875, 10.576776358))
            ThreePointArc((-15.875, 10.576776358), (-18.19275, 19.46275), (-15.875, 28.348723642))
        make_face()
        with BuildLine():
            Line((15.875, 28.348723642), (15.875, 10.576776358))
            ThreePointArc((15.875, 10.576776358), (18.19275, 19.46275), (15.875, 28.348723642))
        make_face()
    extrude(amount=CUT_EXTRUDE13_DEPTH, mode=Mode.SUBTRACT)


solid = part_1.part
